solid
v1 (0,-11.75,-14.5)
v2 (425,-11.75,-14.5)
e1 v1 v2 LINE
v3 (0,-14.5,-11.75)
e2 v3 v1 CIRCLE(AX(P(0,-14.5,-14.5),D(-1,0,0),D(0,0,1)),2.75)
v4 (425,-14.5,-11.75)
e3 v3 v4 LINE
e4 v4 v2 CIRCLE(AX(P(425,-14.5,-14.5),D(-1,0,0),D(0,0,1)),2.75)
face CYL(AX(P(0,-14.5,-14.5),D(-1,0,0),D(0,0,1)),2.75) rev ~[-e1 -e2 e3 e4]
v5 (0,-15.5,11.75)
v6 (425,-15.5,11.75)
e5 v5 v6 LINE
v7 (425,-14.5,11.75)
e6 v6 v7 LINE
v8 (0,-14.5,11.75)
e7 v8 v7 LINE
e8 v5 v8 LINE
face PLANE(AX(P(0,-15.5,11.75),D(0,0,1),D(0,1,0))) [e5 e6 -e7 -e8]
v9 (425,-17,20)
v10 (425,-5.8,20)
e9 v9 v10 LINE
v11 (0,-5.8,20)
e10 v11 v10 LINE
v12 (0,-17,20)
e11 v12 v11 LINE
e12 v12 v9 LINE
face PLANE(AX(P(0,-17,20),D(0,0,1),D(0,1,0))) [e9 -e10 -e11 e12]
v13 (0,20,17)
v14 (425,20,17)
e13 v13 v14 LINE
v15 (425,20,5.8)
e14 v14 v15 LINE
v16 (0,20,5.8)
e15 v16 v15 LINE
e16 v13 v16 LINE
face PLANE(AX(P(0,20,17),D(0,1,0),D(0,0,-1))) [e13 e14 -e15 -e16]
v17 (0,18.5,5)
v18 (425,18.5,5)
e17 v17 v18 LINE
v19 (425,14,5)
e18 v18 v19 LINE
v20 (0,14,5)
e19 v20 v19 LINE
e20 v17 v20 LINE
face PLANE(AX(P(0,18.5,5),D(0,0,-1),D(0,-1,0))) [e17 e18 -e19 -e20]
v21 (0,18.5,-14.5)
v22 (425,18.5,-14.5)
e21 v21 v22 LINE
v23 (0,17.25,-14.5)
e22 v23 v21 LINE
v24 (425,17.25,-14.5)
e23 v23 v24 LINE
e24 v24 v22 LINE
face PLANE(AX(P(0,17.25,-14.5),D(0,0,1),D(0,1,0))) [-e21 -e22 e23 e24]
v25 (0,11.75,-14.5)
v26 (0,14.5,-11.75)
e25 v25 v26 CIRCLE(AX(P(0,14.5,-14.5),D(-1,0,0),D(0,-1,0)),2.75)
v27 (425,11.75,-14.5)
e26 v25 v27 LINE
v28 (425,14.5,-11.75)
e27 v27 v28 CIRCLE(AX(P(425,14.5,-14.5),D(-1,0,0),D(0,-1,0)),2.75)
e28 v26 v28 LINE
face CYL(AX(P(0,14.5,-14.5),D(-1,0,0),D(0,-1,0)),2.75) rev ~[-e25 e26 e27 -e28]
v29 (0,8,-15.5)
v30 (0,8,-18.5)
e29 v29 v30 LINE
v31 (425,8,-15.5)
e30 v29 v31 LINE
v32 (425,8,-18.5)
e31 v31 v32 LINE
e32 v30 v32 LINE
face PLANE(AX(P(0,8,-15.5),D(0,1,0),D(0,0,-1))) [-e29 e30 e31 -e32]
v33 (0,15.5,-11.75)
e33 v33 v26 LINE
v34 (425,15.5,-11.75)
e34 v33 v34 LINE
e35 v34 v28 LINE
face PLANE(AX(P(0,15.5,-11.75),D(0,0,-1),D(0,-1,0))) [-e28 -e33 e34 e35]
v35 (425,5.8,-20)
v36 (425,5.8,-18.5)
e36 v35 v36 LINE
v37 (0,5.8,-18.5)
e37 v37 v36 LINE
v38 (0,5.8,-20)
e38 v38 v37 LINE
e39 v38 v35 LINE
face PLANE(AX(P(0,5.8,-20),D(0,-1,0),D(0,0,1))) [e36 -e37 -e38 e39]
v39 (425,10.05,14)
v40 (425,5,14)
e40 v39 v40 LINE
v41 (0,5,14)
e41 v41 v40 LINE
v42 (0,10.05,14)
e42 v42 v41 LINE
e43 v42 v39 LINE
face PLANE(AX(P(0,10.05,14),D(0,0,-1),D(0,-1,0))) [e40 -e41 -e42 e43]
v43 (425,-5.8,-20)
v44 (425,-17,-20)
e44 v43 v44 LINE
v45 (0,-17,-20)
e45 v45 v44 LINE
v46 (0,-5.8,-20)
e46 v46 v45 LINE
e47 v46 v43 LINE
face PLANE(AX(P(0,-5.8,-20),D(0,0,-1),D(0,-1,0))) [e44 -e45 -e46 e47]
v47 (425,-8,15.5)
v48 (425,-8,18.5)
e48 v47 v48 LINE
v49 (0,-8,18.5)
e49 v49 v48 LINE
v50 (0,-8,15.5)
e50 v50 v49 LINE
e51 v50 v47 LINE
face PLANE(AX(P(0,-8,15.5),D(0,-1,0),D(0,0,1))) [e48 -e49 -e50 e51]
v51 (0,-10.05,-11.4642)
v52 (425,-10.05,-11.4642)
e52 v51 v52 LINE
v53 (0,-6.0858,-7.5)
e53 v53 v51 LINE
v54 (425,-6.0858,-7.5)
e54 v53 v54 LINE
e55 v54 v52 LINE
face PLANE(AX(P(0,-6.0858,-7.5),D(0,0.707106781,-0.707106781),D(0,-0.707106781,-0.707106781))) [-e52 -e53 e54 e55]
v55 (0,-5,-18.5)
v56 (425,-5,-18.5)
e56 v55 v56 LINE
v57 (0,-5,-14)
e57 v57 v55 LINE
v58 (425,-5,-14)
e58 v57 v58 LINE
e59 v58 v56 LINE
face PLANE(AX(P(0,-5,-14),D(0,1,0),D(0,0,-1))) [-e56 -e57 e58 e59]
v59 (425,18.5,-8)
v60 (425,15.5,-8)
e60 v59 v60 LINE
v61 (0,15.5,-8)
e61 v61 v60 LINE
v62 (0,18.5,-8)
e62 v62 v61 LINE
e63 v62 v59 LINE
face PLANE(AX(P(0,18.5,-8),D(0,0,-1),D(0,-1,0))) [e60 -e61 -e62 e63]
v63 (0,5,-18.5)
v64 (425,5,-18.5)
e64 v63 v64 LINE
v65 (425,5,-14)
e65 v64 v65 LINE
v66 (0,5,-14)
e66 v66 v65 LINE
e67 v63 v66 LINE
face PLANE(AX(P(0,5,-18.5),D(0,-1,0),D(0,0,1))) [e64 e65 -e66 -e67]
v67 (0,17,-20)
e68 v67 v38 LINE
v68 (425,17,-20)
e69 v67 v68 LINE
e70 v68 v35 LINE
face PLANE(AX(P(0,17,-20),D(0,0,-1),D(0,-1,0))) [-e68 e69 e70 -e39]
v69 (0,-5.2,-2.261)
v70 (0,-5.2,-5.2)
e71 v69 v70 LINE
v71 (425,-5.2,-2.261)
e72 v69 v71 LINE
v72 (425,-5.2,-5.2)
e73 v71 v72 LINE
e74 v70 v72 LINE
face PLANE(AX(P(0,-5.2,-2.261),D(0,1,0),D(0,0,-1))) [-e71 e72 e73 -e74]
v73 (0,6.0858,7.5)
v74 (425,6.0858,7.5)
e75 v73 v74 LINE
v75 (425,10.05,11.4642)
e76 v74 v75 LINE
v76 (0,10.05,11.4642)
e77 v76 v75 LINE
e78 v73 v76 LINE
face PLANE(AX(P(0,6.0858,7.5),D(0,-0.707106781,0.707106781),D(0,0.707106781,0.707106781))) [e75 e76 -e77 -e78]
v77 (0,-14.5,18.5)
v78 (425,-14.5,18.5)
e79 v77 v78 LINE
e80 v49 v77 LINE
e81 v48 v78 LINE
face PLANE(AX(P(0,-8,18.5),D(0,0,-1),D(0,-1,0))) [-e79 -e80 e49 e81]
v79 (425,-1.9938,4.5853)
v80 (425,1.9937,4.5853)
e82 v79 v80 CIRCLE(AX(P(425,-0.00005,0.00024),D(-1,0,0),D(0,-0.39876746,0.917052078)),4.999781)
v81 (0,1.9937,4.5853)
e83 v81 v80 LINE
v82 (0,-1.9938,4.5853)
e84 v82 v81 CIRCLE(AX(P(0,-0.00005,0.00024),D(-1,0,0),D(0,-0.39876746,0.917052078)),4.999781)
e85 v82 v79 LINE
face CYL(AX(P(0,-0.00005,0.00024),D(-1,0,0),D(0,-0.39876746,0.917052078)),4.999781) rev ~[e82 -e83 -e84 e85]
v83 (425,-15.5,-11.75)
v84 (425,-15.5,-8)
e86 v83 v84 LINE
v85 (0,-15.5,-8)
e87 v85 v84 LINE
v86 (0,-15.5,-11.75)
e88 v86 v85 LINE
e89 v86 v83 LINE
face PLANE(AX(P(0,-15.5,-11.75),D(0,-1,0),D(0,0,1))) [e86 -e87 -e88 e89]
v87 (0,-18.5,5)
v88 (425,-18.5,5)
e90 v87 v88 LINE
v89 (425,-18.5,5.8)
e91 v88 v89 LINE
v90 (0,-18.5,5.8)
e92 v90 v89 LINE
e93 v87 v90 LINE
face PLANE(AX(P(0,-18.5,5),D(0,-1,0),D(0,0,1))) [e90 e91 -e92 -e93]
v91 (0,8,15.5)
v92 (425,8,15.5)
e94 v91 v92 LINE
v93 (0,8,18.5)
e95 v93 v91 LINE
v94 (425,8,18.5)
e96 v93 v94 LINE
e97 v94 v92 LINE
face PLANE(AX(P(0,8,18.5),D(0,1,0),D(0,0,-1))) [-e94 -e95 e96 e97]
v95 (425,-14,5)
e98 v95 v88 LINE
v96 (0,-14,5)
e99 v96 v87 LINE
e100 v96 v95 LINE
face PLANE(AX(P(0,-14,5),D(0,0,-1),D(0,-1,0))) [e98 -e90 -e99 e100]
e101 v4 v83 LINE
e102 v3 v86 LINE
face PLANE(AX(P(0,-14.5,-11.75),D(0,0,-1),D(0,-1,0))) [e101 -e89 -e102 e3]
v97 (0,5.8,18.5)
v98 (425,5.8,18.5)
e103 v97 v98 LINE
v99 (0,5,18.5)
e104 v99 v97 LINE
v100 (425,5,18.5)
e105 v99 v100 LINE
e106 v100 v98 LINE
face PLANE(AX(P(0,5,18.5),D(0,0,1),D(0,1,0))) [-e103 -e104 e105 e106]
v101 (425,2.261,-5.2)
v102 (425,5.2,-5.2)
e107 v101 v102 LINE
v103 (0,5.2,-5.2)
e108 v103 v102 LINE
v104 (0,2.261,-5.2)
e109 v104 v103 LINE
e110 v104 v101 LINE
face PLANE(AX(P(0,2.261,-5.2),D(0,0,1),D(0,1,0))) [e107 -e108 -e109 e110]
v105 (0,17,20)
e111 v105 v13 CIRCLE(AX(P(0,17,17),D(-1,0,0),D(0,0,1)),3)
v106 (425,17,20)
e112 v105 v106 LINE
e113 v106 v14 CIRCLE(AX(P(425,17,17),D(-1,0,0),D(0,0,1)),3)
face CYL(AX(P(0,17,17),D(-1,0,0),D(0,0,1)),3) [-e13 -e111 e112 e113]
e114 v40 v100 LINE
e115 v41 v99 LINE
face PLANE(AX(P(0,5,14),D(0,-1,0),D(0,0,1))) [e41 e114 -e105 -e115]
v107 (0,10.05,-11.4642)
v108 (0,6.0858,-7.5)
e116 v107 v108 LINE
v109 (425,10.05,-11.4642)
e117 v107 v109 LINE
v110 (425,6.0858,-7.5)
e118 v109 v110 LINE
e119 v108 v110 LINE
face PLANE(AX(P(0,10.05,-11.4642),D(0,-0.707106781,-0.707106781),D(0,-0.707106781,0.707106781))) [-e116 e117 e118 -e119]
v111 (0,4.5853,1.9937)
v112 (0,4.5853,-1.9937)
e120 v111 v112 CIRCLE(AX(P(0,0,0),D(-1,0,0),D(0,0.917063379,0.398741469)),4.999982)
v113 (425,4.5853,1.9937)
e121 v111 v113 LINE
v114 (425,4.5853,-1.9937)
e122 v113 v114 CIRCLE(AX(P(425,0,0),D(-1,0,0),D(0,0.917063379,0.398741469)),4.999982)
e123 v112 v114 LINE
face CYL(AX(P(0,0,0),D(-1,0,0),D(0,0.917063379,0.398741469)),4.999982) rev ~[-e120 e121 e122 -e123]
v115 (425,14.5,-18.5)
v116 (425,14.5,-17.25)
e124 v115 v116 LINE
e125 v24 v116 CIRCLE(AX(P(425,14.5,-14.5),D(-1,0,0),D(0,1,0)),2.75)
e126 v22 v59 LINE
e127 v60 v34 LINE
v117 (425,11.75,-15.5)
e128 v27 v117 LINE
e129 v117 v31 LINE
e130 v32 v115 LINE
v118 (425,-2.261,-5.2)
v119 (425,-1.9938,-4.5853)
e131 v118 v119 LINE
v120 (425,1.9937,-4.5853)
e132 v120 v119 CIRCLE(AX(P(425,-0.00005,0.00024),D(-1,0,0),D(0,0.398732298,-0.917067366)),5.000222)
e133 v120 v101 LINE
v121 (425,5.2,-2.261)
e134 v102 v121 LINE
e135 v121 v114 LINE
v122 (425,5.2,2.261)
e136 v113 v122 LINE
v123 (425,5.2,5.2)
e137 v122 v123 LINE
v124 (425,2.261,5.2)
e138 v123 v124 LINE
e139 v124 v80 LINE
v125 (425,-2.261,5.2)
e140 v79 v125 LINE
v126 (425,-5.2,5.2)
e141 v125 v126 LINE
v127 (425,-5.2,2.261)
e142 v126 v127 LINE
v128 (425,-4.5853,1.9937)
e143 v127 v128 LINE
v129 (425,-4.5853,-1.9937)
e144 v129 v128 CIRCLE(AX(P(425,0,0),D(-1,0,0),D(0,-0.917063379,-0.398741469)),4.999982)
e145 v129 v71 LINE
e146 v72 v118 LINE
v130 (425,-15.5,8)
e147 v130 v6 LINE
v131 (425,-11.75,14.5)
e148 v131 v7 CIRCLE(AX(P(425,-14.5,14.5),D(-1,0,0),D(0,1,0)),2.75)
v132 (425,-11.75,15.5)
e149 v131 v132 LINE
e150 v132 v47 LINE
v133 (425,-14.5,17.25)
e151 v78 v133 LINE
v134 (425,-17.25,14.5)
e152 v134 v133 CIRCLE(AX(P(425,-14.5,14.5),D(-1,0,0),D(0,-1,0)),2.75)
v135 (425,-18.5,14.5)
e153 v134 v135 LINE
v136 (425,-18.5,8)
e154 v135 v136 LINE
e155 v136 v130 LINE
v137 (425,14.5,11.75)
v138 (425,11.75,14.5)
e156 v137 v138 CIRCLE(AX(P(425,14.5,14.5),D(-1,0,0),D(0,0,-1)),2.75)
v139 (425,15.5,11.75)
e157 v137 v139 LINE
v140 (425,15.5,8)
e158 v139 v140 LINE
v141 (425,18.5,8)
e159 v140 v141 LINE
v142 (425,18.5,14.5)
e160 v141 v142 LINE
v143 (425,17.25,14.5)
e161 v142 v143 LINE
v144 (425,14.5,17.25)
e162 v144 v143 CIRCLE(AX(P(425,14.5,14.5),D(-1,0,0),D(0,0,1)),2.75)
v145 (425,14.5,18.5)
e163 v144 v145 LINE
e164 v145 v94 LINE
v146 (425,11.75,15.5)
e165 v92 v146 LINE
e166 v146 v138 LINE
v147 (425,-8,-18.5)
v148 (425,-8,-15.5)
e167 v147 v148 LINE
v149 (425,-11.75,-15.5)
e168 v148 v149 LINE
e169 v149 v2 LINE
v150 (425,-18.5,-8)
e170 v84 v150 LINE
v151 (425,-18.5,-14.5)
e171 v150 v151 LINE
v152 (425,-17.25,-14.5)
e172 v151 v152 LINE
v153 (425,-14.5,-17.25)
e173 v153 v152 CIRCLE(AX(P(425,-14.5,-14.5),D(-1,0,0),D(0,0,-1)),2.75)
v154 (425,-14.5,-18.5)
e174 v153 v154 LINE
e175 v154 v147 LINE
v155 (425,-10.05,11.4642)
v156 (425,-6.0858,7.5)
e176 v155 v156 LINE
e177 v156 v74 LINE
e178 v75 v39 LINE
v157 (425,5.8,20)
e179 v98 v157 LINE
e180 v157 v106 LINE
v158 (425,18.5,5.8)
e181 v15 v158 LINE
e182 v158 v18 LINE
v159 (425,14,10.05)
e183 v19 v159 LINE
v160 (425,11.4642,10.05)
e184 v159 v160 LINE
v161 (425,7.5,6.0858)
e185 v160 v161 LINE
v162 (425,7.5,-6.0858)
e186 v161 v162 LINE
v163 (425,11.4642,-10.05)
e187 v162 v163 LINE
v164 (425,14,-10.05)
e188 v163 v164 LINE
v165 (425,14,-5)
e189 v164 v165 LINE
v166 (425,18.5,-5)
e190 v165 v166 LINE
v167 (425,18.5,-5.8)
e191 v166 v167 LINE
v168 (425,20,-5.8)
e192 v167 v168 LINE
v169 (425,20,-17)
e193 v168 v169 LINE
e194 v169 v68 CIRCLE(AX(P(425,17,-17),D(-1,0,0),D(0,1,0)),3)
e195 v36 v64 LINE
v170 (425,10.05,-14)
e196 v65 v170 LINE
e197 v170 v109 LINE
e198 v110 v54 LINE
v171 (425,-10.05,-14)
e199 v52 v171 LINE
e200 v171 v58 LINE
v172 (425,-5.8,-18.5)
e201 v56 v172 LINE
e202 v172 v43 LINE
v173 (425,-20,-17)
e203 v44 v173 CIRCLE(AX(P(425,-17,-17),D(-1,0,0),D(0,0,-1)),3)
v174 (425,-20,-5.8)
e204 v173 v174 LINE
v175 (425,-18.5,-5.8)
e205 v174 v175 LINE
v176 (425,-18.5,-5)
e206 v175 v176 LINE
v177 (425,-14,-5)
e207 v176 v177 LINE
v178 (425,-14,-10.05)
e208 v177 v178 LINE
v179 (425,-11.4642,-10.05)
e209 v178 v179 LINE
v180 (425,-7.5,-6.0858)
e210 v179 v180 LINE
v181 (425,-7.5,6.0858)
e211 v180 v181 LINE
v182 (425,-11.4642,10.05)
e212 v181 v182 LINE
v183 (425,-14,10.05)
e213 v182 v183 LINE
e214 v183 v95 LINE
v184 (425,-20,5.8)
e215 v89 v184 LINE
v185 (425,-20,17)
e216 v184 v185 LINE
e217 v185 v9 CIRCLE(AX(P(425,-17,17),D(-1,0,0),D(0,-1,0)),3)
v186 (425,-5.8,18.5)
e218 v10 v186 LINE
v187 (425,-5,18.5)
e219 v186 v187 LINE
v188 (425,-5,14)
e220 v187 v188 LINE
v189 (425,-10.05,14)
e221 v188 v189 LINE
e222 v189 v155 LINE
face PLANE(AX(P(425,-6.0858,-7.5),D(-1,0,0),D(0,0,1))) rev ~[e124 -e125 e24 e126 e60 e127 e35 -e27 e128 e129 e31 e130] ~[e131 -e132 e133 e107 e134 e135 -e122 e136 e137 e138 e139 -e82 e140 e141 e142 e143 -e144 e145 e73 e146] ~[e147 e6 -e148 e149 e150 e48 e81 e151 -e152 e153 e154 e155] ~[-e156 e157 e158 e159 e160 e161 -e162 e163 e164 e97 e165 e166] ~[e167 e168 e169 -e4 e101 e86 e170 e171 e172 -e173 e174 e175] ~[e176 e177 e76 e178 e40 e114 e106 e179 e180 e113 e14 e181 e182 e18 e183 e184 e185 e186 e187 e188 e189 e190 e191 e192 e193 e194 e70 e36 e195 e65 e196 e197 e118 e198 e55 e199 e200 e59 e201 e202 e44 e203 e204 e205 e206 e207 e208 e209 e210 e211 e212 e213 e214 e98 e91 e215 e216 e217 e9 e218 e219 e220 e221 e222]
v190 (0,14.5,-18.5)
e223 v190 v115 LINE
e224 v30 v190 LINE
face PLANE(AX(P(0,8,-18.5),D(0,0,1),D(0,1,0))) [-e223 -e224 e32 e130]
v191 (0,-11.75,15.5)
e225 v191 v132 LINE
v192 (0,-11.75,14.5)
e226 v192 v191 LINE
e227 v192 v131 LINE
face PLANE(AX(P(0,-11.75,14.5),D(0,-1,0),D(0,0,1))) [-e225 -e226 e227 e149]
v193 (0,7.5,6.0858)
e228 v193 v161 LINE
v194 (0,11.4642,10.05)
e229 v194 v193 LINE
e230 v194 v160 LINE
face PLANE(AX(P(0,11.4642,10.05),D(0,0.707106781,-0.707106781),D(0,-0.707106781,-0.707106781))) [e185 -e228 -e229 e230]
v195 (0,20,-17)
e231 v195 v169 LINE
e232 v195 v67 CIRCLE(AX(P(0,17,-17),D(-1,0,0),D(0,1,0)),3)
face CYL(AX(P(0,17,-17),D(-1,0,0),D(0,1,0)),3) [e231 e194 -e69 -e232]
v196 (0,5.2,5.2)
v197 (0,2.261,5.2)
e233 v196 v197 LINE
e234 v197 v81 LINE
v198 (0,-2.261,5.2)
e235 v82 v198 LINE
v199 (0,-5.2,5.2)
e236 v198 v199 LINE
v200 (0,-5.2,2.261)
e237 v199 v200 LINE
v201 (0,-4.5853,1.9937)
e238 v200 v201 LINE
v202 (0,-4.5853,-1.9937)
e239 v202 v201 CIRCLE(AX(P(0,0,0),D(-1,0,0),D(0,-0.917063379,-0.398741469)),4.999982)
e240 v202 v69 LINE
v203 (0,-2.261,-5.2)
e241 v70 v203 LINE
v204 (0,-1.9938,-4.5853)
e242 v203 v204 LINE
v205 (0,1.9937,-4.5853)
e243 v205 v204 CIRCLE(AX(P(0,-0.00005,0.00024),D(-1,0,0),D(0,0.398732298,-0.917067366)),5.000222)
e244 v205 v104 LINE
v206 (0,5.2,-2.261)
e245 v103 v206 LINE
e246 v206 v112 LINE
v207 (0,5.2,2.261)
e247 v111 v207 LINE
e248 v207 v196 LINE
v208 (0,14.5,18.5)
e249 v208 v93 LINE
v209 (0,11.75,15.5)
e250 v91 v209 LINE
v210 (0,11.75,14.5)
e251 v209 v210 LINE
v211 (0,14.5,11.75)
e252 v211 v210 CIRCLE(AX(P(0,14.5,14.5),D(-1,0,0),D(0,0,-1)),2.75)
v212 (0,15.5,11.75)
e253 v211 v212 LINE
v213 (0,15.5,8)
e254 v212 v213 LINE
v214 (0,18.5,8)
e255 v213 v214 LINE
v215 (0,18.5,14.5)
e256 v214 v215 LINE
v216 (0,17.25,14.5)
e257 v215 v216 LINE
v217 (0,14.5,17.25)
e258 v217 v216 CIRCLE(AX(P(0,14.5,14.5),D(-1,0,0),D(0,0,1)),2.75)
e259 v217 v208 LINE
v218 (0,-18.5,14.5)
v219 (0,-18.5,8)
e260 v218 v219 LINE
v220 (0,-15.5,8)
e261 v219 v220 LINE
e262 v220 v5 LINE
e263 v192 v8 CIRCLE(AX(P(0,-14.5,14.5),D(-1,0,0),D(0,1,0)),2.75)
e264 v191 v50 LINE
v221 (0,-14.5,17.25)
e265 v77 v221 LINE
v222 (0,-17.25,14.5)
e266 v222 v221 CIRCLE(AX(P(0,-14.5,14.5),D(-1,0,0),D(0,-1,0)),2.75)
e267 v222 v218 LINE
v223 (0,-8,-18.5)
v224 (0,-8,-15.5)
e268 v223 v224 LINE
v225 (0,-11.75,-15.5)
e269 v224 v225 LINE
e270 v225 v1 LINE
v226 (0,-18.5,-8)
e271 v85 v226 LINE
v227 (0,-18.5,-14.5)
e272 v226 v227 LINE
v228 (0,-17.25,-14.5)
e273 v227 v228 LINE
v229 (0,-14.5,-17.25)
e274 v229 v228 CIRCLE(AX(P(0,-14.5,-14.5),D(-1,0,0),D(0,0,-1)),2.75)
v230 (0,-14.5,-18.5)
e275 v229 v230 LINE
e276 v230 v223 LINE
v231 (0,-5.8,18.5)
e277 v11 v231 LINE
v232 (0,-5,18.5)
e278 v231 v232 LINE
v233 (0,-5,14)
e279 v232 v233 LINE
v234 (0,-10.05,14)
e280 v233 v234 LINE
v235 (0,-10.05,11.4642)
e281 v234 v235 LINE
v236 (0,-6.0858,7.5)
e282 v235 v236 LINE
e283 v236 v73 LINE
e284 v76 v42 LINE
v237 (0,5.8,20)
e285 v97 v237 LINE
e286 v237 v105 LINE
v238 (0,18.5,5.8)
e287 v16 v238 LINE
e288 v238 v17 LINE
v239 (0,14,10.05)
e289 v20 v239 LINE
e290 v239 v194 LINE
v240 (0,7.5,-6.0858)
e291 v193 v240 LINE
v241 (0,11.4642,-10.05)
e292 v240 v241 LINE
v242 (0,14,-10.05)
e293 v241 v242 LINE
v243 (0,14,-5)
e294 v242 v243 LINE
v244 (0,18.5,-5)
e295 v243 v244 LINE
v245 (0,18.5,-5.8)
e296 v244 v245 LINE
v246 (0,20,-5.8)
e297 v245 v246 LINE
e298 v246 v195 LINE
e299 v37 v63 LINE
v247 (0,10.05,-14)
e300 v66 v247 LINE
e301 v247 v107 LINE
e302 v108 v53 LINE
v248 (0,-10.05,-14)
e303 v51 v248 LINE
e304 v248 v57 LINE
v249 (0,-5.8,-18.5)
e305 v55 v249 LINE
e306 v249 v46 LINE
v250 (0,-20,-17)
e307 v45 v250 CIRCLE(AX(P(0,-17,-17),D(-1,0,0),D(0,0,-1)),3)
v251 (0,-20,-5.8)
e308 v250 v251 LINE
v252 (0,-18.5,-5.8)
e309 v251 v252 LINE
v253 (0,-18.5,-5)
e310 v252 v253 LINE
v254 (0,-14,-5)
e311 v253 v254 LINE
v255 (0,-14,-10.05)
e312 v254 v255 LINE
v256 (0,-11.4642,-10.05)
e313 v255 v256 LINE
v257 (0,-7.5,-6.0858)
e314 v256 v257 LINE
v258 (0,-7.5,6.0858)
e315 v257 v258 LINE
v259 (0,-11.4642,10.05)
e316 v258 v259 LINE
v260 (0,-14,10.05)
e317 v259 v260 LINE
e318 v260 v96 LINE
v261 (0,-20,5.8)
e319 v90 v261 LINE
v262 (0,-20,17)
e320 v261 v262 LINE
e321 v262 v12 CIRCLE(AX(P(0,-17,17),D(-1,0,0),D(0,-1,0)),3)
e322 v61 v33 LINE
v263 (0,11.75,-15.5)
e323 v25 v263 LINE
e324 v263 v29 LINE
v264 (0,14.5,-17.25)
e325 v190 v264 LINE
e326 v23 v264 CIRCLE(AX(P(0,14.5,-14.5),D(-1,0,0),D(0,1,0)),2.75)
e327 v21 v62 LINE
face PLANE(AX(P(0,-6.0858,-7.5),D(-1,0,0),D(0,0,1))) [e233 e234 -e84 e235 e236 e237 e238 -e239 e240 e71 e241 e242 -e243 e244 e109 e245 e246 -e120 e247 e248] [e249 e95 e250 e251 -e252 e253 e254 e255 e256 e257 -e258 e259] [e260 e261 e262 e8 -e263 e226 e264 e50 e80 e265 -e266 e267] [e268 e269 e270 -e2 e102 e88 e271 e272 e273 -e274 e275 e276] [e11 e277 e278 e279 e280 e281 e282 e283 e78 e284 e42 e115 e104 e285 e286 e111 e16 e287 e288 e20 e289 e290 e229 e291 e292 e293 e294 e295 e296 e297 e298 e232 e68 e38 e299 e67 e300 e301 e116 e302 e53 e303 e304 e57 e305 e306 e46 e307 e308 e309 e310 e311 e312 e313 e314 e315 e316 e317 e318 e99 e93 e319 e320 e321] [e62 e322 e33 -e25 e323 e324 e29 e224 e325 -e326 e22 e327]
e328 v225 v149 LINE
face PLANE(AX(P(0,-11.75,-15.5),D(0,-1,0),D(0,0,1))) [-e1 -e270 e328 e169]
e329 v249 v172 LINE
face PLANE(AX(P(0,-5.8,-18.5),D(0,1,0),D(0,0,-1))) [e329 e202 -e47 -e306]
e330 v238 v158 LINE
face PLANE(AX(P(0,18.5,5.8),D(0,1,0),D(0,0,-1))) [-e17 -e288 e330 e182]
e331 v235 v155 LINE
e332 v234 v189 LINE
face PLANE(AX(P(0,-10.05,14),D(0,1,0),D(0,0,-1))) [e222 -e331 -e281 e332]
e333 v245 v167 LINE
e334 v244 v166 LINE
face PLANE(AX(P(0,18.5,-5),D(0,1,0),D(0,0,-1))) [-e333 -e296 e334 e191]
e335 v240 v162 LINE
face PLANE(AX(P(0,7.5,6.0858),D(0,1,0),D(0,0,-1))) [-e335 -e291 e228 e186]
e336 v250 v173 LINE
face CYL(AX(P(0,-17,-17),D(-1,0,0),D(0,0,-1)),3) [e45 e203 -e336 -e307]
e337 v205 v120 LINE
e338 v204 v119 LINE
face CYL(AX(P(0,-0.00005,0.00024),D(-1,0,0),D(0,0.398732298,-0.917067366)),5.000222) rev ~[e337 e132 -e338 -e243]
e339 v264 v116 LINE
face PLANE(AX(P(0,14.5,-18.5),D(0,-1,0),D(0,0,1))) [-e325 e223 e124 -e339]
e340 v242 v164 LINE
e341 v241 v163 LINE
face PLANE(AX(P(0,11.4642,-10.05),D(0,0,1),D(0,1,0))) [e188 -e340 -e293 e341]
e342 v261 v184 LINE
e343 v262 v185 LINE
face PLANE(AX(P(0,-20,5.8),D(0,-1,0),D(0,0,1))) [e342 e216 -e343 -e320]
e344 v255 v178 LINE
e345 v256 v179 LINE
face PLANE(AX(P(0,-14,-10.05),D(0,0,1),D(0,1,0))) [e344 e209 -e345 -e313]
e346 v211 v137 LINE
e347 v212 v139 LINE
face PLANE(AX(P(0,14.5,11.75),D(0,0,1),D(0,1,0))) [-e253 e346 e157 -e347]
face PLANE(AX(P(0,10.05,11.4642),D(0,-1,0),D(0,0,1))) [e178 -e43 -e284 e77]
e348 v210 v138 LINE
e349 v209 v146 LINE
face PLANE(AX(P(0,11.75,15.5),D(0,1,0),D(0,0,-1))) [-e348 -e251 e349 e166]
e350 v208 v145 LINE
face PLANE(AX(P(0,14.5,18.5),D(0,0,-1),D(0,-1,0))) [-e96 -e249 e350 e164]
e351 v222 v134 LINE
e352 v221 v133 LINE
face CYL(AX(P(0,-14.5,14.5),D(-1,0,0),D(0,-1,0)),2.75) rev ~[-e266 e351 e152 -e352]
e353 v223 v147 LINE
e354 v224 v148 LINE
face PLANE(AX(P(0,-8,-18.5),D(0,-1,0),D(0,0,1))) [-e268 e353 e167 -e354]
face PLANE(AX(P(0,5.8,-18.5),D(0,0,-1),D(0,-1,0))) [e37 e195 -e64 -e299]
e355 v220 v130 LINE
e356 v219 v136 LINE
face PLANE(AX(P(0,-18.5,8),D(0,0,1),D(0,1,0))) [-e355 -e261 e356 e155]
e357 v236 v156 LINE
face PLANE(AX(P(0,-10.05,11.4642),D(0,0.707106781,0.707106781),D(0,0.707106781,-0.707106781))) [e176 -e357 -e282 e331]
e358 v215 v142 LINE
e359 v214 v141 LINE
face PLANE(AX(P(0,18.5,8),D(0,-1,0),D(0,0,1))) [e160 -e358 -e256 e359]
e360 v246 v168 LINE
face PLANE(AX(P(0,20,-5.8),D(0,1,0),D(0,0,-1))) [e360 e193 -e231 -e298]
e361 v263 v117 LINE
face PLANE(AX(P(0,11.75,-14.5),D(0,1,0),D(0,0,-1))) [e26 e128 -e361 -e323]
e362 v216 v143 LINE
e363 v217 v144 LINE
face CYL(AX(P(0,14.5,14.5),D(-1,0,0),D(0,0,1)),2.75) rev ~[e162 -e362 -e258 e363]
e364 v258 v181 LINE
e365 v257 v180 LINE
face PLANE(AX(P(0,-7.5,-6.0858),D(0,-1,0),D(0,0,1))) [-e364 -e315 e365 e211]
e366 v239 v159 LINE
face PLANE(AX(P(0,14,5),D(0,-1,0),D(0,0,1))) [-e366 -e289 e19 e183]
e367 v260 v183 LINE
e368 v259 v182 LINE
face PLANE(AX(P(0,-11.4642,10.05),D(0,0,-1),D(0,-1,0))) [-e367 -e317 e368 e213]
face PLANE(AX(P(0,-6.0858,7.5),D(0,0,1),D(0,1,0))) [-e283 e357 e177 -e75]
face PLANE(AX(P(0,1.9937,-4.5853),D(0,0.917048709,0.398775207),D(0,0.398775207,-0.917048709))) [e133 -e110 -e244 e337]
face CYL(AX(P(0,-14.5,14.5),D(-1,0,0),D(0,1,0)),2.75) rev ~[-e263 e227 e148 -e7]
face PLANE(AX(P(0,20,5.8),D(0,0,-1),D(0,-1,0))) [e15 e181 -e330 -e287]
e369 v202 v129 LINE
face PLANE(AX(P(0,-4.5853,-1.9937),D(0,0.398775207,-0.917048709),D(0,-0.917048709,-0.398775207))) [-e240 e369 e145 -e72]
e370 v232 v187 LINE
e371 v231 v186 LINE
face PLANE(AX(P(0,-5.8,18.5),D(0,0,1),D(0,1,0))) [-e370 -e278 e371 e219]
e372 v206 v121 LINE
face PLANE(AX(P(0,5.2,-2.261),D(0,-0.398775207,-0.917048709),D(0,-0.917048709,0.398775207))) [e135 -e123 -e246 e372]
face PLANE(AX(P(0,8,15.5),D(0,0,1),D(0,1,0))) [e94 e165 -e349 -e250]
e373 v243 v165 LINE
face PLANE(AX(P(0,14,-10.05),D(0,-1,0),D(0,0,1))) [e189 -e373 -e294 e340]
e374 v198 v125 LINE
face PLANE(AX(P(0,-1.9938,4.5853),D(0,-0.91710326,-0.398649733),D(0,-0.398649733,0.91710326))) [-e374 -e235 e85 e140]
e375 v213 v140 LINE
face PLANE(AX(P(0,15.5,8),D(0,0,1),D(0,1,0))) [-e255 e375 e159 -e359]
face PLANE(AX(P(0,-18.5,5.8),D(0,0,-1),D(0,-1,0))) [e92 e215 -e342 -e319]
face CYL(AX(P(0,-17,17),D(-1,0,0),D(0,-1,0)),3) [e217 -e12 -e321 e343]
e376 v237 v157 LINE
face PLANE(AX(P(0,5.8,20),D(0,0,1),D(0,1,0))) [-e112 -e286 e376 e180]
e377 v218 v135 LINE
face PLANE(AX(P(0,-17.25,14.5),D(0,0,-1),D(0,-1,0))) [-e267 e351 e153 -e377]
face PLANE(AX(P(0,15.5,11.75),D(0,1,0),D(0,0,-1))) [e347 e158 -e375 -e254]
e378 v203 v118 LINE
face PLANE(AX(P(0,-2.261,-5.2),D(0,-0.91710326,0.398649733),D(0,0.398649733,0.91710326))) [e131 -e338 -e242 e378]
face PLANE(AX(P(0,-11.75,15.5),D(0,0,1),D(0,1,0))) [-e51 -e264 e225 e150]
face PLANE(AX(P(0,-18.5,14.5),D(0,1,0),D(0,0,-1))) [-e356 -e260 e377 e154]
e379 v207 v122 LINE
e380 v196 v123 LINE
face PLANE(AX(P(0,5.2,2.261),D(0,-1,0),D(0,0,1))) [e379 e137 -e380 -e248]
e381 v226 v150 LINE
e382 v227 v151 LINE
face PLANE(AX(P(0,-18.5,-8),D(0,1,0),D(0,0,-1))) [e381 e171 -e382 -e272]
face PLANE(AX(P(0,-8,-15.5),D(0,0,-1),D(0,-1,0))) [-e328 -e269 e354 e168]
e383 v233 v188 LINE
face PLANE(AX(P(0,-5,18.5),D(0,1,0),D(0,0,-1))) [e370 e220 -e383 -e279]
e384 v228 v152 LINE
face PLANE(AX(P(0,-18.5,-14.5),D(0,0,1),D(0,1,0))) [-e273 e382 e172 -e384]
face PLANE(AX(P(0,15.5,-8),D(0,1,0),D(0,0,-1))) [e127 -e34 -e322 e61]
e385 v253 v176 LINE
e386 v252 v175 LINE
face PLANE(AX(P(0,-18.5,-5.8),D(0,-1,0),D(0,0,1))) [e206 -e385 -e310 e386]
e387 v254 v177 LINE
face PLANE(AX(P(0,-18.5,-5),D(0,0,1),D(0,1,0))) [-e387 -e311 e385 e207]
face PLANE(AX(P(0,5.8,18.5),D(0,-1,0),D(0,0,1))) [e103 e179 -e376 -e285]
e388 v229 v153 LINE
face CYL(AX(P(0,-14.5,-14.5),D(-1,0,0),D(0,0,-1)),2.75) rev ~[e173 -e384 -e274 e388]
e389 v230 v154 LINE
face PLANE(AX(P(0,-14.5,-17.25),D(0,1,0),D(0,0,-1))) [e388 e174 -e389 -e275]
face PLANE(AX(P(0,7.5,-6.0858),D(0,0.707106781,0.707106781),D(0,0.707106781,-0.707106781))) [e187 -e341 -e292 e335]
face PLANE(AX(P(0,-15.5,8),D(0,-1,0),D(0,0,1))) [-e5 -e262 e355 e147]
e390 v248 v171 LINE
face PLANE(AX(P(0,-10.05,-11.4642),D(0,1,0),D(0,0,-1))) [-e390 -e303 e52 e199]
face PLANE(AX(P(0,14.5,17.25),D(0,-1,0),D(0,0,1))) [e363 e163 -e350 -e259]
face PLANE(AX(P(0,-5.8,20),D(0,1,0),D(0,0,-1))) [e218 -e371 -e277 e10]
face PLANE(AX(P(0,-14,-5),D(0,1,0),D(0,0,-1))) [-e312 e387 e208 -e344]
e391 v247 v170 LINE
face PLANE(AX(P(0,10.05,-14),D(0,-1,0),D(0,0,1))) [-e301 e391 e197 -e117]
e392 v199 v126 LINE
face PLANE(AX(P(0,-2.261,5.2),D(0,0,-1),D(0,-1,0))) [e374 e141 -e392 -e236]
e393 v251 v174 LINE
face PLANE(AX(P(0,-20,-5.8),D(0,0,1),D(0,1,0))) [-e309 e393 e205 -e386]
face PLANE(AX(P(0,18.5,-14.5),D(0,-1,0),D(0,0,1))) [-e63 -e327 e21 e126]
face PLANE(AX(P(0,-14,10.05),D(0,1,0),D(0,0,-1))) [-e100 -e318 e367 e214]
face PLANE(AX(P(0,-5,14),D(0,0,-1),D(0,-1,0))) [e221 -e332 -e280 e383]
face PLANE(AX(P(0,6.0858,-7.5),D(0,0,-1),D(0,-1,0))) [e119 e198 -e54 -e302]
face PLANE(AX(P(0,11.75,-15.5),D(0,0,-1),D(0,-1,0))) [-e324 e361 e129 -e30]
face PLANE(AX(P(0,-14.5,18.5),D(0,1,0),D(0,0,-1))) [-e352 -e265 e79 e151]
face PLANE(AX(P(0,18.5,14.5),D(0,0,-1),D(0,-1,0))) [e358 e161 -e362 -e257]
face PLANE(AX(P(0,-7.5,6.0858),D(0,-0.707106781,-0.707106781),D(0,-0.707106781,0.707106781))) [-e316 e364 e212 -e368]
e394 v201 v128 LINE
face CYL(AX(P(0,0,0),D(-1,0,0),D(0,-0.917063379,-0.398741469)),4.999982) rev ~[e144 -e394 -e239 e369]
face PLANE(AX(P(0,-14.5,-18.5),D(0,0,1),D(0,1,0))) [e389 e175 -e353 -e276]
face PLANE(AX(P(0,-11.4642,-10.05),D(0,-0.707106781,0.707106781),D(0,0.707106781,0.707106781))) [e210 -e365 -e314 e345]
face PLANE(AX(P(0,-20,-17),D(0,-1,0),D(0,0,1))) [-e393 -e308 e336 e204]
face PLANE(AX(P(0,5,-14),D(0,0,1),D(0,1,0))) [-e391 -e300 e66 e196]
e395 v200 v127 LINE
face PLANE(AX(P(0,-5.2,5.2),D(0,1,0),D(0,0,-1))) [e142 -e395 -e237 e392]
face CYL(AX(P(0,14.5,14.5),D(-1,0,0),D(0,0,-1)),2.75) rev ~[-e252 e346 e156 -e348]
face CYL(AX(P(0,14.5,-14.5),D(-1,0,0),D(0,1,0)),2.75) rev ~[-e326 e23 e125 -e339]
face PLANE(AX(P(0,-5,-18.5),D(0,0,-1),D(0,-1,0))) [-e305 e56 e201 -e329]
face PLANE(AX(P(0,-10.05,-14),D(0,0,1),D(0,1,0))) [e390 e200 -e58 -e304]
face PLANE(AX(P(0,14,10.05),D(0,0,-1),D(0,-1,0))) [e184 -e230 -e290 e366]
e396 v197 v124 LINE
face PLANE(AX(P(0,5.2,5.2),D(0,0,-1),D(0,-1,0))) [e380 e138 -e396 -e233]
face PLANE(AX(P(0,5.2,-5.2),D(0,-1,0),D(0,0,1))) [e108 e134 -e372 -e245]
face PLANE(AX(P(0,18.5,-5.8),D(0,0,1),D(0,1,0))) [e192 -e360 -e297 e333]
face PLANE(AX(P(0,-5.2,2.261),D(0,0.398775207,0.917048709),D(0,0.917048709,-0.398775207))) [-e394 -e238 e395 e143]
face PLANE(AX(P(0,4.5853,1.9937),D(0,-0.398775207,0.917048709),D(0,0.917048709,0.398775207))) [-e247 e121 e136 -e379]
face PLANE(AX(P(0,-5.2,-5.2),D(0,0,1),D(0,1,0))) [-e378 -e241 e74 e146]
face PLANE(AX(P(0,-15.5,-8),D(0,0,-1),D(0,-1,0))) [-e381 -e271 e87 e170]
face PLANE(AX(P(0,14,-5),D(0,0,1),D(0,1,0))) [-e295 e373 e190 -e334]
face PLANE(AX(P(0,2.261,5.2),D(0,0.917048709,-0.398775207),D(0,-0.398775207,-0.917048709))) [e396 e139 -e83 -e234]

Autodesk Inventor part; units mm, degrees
ref_plane "YZ Plane" through (0, 0, 0) normal (1, 0, 0) x (0, 1, 0)
ref_plane "Work Plane1" through (3000, -6.0858, -7.5) normal (1, 0, 0) x (0, 0, -1)
sketch "Sketch1" plane through (3000, -6.0858, -7.5) normal (1, 0, 0) x (0, 0, -1)
  line L0 (0, 0) -> (3.9642, -3.9642) projected
  line L1 (0, 12.1716) -> (0, 0) projected
  line L2 (3.9642, 16.1358) -> (0, 12.1716) projected
  line L3 (6.5, 16.1358) -> (3.9642, 16.1358) projected
  line L4 (6.5, 11.0858) -> (6.5, 16.1358) projected
  line L5 (11, 11.0858) -> (6.5, 11.0858) projected
  line L6 (11, 11.8858) -> (11, 11.0858) projected
  line L7 (12.5, 11.8858) -> (11, 11.8858) projected
  line L8 (12.5, 23.0858) -> (12.5, 11.8858) projected
  arc A0 (12.5, 23.0858) -> (9.5, 26.0858) centre (9.5, 23.0858) ccw projected
  line L9 (-1.7, 26.0858) -> (9.5, 26.0858) projected
  line L10 (-1.7, 24.5858) -> (-1.7, 26.0858) projected
  line L11 (-2.5, 24.5858) -> (-1.7, 24.5858) projected
  line L12 (-2.5, 20.0858) -> (-2.5, 24.5858) projected
  line L13 (2.55, 20.0858) -> (-2.5, 20.0858) projected
  line L14 (2.55, 17.55) -> (2.55, 20.0858) projected
  line L15 (-1.4142, 13.5858) -> (2.55, 17.55) projected
  line L16 (-13.5858, 13.5858) -> (-1.4142, 13.5858) projected
  line L17 (-17.55, 17.55) -> (-13.5858, 13.5858) projected
  line L18 (-17.55, 20.0858) -> (-17.55, 17.55) projected
  line L19 (-12.5, 20.0858) -> (-17.55, 20.0858) projected
  line L20 (-12.5, 24.5858) -> (-12.5, 20.0858) projected
  line L21 (-13.3, 24.5858) -> (-12.5, 24.5858) projected
  line L22 (-13.3, 26.0858) -> (-13.3, 24.5858) projected
  line L23 (-24.5, 26.0858) -> (-13.3, 26.0858) projected
  arc A1 (-24.5, 26.0858) -> (-27.5, 23.0858) centre (-24.5, 23.0858) ccw projected
  line L24 (-27.5, 11.8858) -> (-27.5, 23.0858) projected
  line L25 (-26, 11.8858) -> (-27.5, 11.8858) projected
  line L26 (-26, 11.0858) -> (-26, 11.8858) projected
  line L27 (-21.5, 11.0858) -> (-26, 11.0858) projected
  line L28 (-21.5, 16.1358) -> (-21.5, 11.0858) projected
  line L29 (-18.9642, 16.1358) -> (-21.5, 16.1358) projected
  line L30 (-15, 12.1716) -> (-18.9642, 16.1358) projected
  line L31 (-15, 0) -> (-15, 12.1716) projected
  line L32 (-18.9642, -3.9642) -> (-15, 0) projected
  line L33 (-21.5, -3.9642) -> (-18.9642, -3.9642) projected
  line L34 (-21.5, 1.0858) -> (-21.5, -3.9642) projected
  line L35 (-26, 1.0858) -> (-21.5, 1.0858) projected
  line L36 (-26, 0.2858) -> (-26, 1.0858) projected
  line L37 (-27.5, 0.2858) -> (-26, 0.2858) projected
  line L38 (-27.5, -10.9142) -> (-27.5, 0.2858) projected
  arc A2 (-27.5, -10.9142) -> (-24.5, -13.9142) centre (-24.5, -10.9142) ccw projected
  line L39 (-13.3, -13.9142) -> (-24.5, -13.9142) projected
  line L40 (-13.3, -12.4142) -> (-13.3, -13.9142) projected
  line L41 (-12.5, -12.4142) -> (-13.3, -12.4142) projected
  line L42 (-12.5, -7.9142) -> (-12.5, -12.4142) projected
  line L43 (-17.55, -7.9142) -> (-12.5, -7.9142) projected
  line L44 (-17.55, -5.3784) -> (-17.55, -7.9142) projected
  line L45 (-13.5858, -1.4142) -> (-17.55, -5.3784) projected
  line L46 (-1.4142, -1.4142) -> (-13.5858, -1.4142) projected
  line L47 (2.55, -5.3784) -> (-1.4142, -1.4142) projected
  line L48 (2.55, -7.9142) -> (2.55, -5.3784) projected
  line L49 (-2.5, -7.9142) -> (2.55, -7.9142) projected
  line L50 (-2.5, -12.4142) -> (-2.5, -7.9142) projected
  line L51 (-1.7, -12.4142) -> (-2.5, -12.4142) projected
  line L52 (-1.7, -13.9142) -> (-1.7, -12.4142) projected
  line L53 (9.5, -13.9142) -> (-1.7, -13.9142) projected
  arc A3 (9.5, -13.9142) -> (12.5, -10.9142) centre (9.5, -10.9142) ccw projected
  line L54 (12.5, 0.2858) -> (12.5, -10.9142) projected
  line L55 (11, 0.2858) -> (12.5, 0.2858) projected
  line L56 (11, 1.0858) -> (11, 0.2858) projected
  line L57 (6.5, 1.0858) -> (11, 1.0858) projected
  line L58 (6.5, -3.9642) -> (6.5, 1.0858) projected
  line L59 (3.9642, -3.9642) -> (6.5, -3.9642) projected
  line L60 (8, -1.9142) -> (11, -1.9142) projected
  line L61 (11, -1.9142) -> (11, -8.4142) projected
  line L62 (11, -8.4142) -> (9.75, -8.4142) projected
  arc A4 (7, -11.1642) -> (9.75, -8.4142) centre (7, -8.4142) ccw projected
  line L63 (7, -11.1642) -> (7, -12.4142) projected
  line L64 (7, -12.4142) -> (0.5, -12.4142) projected
  line L65 (0.5, -12.4142) -> (0.5, -9.4142) projected
  line L66 (0.5, -9.4142) -> (4.25, -9.4142) projected
  line L67 (4.25, -9.4142) -> (4.25, -8.4142) projected
  arc A5 (7, -5.6642) -> (4.25, -8.4142) centre (7, -8.4142) ccw projected
  line L68 (7, -5.6642) -> (8, -5.6642) projected
  line L69 (8, -5.6642) -> (8, -1.9142) projected
  line L70 (0.5, 21.5858) -> (0.5, 24.5858) projected
  line L71 (0.5, 24.5858) -> (7, 24.5858) projected
  line L72 (7, 24.5858) -> (7, 23.3358) projected
  arc A6 (9.75, 20.5858) -> (7, 23.3358) centre (7, 20.5858) ccw projected
  line L73 (9.75, 20.5858) -> (11, 20.5858) projected
  line L74 (11, 20.5858) -> (11, 14.0858) projected
  line L75 (11, 14.0858) -> (8, 14.0858) projected
  line L76 (8, 14.0858) -> (8, 17.8358) projected
  line L77 (8, 17.8358) -> (7, 17.8358) projected
  arc A7 (4.25, 20.5858) -> (7, 17.8358) centre (7, 20.5858) ccw projected
  line L78 (4.25, 20.5858) -> (4.25, 21.5858) projected
  line L79 (4.25, 21.5858) -> (0.5, 21.5858) projected
  line L80 (-23, 14.0858) -> (-26, 14.0858) projected
  line L81 (-26, 14.0858) -> (-26, 20.5858) projected
  line L82 (-26, 20.5858) -> (-24.75, 20.5858) projected
  arc A8 (-22, 23.3358) -> (-24.75, 20.5858) centre (-22, 20.5858) ccw projected
  line L83 (-22, 23.3358) -> (-22, 24.5858) projected
  line L84 (-22, 24.5858) -> (-15.5, 24.5858) projected
  line L85 (-15.5, 24.5858) -> (-15.5, 21.5858) projected
  line L86 (-15.5, 21.5858) -> (-19.25, 21.5858) projected
  line L87 (-19.25, 21.5858) -> (-19.25, 20.5858) projected
  arc A9 (-22, 17.8358) -> (-19.25, 20.5858) centre (-22, 20.5858) ccw projected
  line L88 (-22, 17.8358) -> (-23, 17.8358) projected
  line L89 (-23, 17.8358) -> (-23, 14.0858) projected
  line L90 (-15.5, -9.4142) -> (-15.5, -12.4142) projected
  line L91 (-15.5, -12.4142) -> (-22, -12.4142) projected
  line L92 (-22, -12.4142) -> (-22, -11.1642) projected
  arc A10 (-24.75, -8.4142) -> (-22, -11.1642) centre (-22, -8.4142) ccw projected
  line L93 (-24.75, -8.4142) -> (-26, -8.4142) projected
  line L94 (-26, -8.4142) -> (-26, -1.9142) projected
  line L95 (-26, -1.9142) -> (-23, -1.9142) projected
  line L96 (-23, -1.9142) -> (-23, -5.6642) projected
  line L97 (-23, -5.6642) -> (-22, -5.6642) projected
  arc A11 (-19.25, -8.4142) -> (-22, -5.6642) centre (-22, -8.4142) ccw projected
  line L98 (-19.25, -8.4142) -> (-19.25, -9.4142) projected
  line L99 (-19.25, -9.4142) -> (-15.5, -9.4142) projected
  line L100 (-9.4937, 1.5005) -> (-9.761, 0.8858) projected
  line L101 (-9.761, 0.8858) -> (-12.7, 0.8858) projected
  line L102 (-12.7, 0.8858) -> (-12.7, 3.8248) projected
  line L103 (-12.7, 3.8248) -> (-12.0853, 4.092) projected
  arc A12 (-12.0853, 8.0795) -> (-12.0853, 4.092) centre (-7.5, 6.0858) ccw projected
  line L104 (-12.0853, 8.0795) -> (-12.7, 8.3468) projected
  line L105 (-12.7, 8.3468) -> (-12.7, 11.2858) projected
  line L106 (-12.7, 11.2858) -> (-9.761, 11.2858) projected
  line L107 (-9.761, 11.2858) -> (-9.4937, 10.6711) projected
  arc A13 (-5.5063, 10.6711) -> (-9.4937, 10.6711) centre (-7.5, 6.0858) ccw projected
  line L108 (-5.5063, 10.6711) -> (-5.239, 11.2858) projected
  line L109 (-5.239, 11.2858) -> (-2.3, 11.2858) projected
  line L110 (-2.3, 11.2858) -> (-2.3, 8.3468) projected
  line L111 (-2.3, 8.3468) -> (-2.9147, 8.0795) projected
  arc A14 (-2.9147, 4.092) -> (-2.9147, 8.0795) centre (-7.5, 6.0858) ccw projected
  line L112 (-2.9147, 4.092) -> (-2.3, 3.8248) projected
  line L113 (-2.3, 3.8248) -> (-2.3, 0.8858) projected
  line L114 (-2.3, 0.8858) -> (-5.239, 0.8858) projected
  line L115 (-5.239, 0.8858) -> (-5.5063, 1.5005) projected
  arc A15 (-9.4937, 1.5005) -> (-5.5063, 1.5005) centre (-7.5, 6.0858) ccw projected
  point P0 (-7.5, 6.0858)
ref_plane "Work Plane2" through (0, -6.0858, -7.5) normal (-1, 0, 0) x (0, 0, 1)
sketch "Sketch2" plane through (0, -6.0858, -7.5) normal (-1, 0, 0) x (0, 0, 1)
  line L0 (0, 12.1716) -> (0, 0) projected
  line L1 (0, 0) -> (-3.9642, -3.9642) projected
  line L2 (-3.9642, -3.9642) -> (-6.5, -3.9642) projected
  line L3 (-6.5, -3.9642) -> (-6.5, 1.0858) projected
  line L4 (-6.5, 1.0858) -> (-11, 1.0858) projected
  line L5 (-11, 1.0858) -> (-11, 0.2858) projected
  line L6 (-11, 0.2858) -> (-12.5, 0.2858) projected
  line L7 (-12.5, 0.2858) -> (-12.5, -10.9142) projected
  arc A0 (-12.5, -10.9142) -> (-9.5, -13.9142) centre (-9.5, -10.9142) ccw projected
  line L8 (-9.5, -13.9142) -> (1.7, -13.9142) projected
  line L9 (1.7, -13.9142) -> (1.7, -12.4142) projected
  line L10 (1.7, -12.4142) -> (2.5, -12.4142) projected
  line L11 (2.5, -12.4142) -> (2.5, -7.9142) projected
  line L12 (2.5, -7.9142) -> (-2.55, -7.9142) projected
  line L13 (-2.55, -7.9142) -> (-2.55, -5.3784) projected
  line L14 (-2.55, -5.3784) -> (1.4142, -1.4142) projected
  line L15 (1.4142, -1.4142) -> (13.5858, -1.4142) projected
  line L16 (13.5858, -1.4142) -> (17.55, -5.3784) projected
  line L17 (17.55, -5.3784) -> (17.55, -7.9142) projected
  line L18 (17.55, -7.9142) -> (12.5, -7.9142) projected
  line L19 (12.5, -7.9142) -> (12.5, -12.4142) projected
  line L20 (12.5, -12.4142) -> (13.3, -12.4142) projected
  line L21 (13.3, -12.4142) -> (13.3, -13.9142) projected
  line L22 (13.3, -13.9142) -> (24.5, -13.9142) projected
  arc A1 (24.5, -13.9142) -> (27.5, -10.9142) centre (24.5, -10.9142) ccw projected
  line L23 (27.5, -10.9142) -> (27.5, 0.2858) projected
  line L24 (27.5, 0.2858) -> (26, 0.2858) projected
  line L25 (26, 0.2858) -> (26, 1.0858) projected
  line L26 (26, 1.0858) -> (21.5, 1.0858) projected
  line L27 (21.5, 1.0858) -> (21.5, -3.9642) projected
  line L28 (21.5, -3.9642) -> (18.9642, -3.9642) projected
  line L29 (18.9642, -3.9642) -> (15, 0) projected
  line L30 (15, 0) -> (15, 12.1716) projected
  line L31 (15, 12.1716) -> (18.9642, 16.1358) projected
  line L32 (18.9642, 16.1358) -> (21.5, 16.1358) projected
  line L33 (21.5, 16.1358) -> (21.5, 11.0858) projected
  line L34 (21.5, 11.0858) -> (26, 11.0858) projected
  line L35 (26, 11.0858) -> (26, 11.8858) projected
  line L36 (26, 11.8858) -> (27.5, 11.8858) projected
  line L37 (27.5, 11.8858) -> (27.5, 23.0858) projected
  arc A2 (27.5, 23.0858) -> (24.5, 26.0858) centre (24.5, 23.0858) ccw projected
  line L38 (24.5, 26.0858) -> (13.3, 26.0858) projected
  line L39 (13.3, 26.0858) -> (13.3, 24.5858) projected
  line L40 (13.3, 24.5858) -> (12.5, 24.5858) projected
  line L41 (12.5, 24.5858) -> (12.5, 20.0858) projected
  line L42 (12.5, 20.0858) -> (17.55, 20.0858) projected
  line L43 (17.55, 20.0858) -> (17.55, 17.55) projected
  line L44 (17.55, 17.55) -> (13.5858, 13.5858) projected
  line L45 (13.5858, 13.5858) -> (1.4142, 13.5858) projected
  line L46 (1.4142, 13.5858) -> (-2.55, 17.55) projected
  line L47 (-2.55, 17.55) -> (-2.55, 20.0858) projected
  line L48 (-2.55, 20.0858) -> (2.5, 20.0858) projected
  line L49 (2.5, 20.0858) -> (2.5, 24.5858) projected
  line L50 (2.5, 24.5858) -> (1.7, 24.5858) projected
  line L51 (1.7, 24.5858) -> (1.7, 26.0858) projected
  line L52 (1.7, 26.0858) -> (-9.5, 26.0858) projected
  arc A3 (-9.5, 26.0858) -> (-12.5, 23.0858) centre (-9.5, 23.0858) ccw projected
  line L53 (-12.5, 23.0858) -> (-12.5, 11.8858) projected
  line L54 (-12.5, 11.8858) -> (-11, 11.8858) projected
  line L55 (-11, 11.8858) -> (-11, 11.0858) projected
  line L56 (-11, 11.0858) -> (-6.5, 11.0858) projected
  line L57 (-6.5, 11.0858) -> (-6.5, 16.1358) projected
  line L58 (-6.5, 16.1358) -> (-3.9642, 16.1358) projected
  line L59 (-3.9642, 16.1358) -> (0, 12.1716) projected
  line L60 (-11, -1.9142) -> (-8, -1.9142) projected
  line L61 (-8, -1.9142) -> (-8, -5.6642) projected
  line L62 (-8, -5.6642) -> (-7, -5.6642) projected
  arc A4 (-4.25, -8.4142) -> (-7, -5.6642) centre (-7, -8.4142) ccw projected
  line L63 (-4.25, -8.4142) -> (-4.25, -9.4142) projected
  line L64 (-4.25, -9.4142) -> (-0.5, -9.4142) projected
  line L65 (-0.5, -9.4142) -> (-0.5, -12.4142) projected
  line L66 (-0.5, -12.4142) -> (-7, -12.4142) projected
  line L67 (-7, -12.4142) -> (-7, -11.1642) projected
  arc A5 (-9.75, -8.4142) -> (-7, -11.1642) centre (-7, -8.4142) ccw projected
  line L68 (-9.75, -8.4142) -> (-11, -8.4142) projected
  line L69 (-11, -8.4142) -> (-11, -1.9142) projected
  line L70 (-0.5, 24.5858) -> (-0.5, 21.5858) projected
  line L71 (-0.5, 21.5858) -> (-4.25, 21.5858) projected
  line L72 (-4.25, 21.5858) -> (-4.25, 20.5858) projected
  arc A6 (-7, 17.8358) -> (-4.25, 20.5858) centre (-7, 20.5858) ccw projected
  line L73 (-7, 17.8358) -> (-8, 17.8358) projected
  line L74 (-8, 17.8358) -> (-8, 14.0858) projected
  line L75 (-8, 14.0858) -> (-11, 14.0858) projected
  line L76 (-11, 14.0858) -> (-11, 20.5858) projected
  line L77 (-11, 20.5858) -> (-9.75, 20.5858) projected
  arc A7 (-7, 23.3358) -> (-9.75, 20.5858) centre (-7, 20.5858) ccw projected
  line L78 (-7, 23.3358) -> (-7, 24.5858) projected
  line L79 (-7, 24.5858) -> (-0.5, 24.5858) projected
  line L80 (26, 14.0858) -> (23, 14.0858) projected
  line L81 (23, 14.0858) -> (23, 17.8358) projected
  line L82 (23, 17.8358) -> (22, 17.8358) projected
  arc A8 (19.25, 20.5858) -> (22, 17.8358) centre (22, 20.5858) ccw projected
  line L83 (19.25, 20.5858) -> (19.25, 21.5858) projected
  line L84 (19.25, 21.5858) -> (15.5, 21.5858) projected
  line L85 (15.5, 21.5858) -> (15.5, 24.5858) projected
  line L86 (15.5, 24.5858) -> (22, 24.5858) projected
  line L87 (22, 24.5858) -> (22, 23.3358) projected
  arc A9 (24.75, 20.5858) -> (22, 23.3358) centre (22, 20.5858) ccw projected
  line L88 (24.75, 20.5858) -> (26, 20.5858) projected
  line L89 (26, 20.5858) -> (26, 14.0858) projected
  line L90 (15.5, -12.4142) -> (15.5, -9.4142) projected
  line L91 (15.5, -9.4142) -> (19.25, -9.4142) projected
  line L92 (19.25, -9.4142) -> (19.25, -8.4142) projected
  arc A10 (22, -5.6642) -> (19.25, -8.4142) centre (22, -8.4142) ccw projected
  line L93 (22, -5.6642) -> (23, -5.6642) projected
  line L94 (23, -5.6642) -> (23, -1.9142) projected
  line L95 (23, -1.9142) -> (26, -1.9142) projected
  line L96 (26, -1.9142) -> (26, -8.4142) projected
  line L97 (26, -8.4142) -> (24.75, -8.4142) projected
  arc A11 (22, -11.1642) -> (24.75, -8.4142) centre (22, -8.4142) ccw projected
  line L98 (22, -11.1642) -> (22, -12.4142) projected
  line L99 (22, -12.4142) -> (15.5, -12.4142) projected
  line L100 (9.761, 0.8858) -> (9.4937, 1.5005) projected
  arc A12 (5.5063, 1.5005) -> (9.4937, 1.5005) centre (7.5, 6.0858) ccw projected
  line L101 (5.5063, 1.5005) -> (5.239, 0.8858) projected
  line L102 (5.239, 0.8858) -> (2.3, 0.8858) projected
  line L103 (2.3, 0.8858) -> (2.3, 3.8248) projected
  line L104 (2.3, 3.8248) -> (2.9147, 4.092) projected
  arc A13 (2.9147, 8.0795) -> (2.9147, 4.092) centre (7.5, 6.0858) ccw projected
  line L105 (2.9147, 8.0795) -> (2.3, 8.3468) projected
  line L106 (2.3, 8.3468) -> (2.3, 11.2858) projected
  line L107 (2.3, 11.2858) -> (5.239, 11.2858) projected
  line L108 (5.239, 11.2858) -> (5.5063, 10.6711) projected
  arc A14 (9.4937, 10.6711) -> (5.5063, 10.6711) centre (7.5, 6.0858) ccw projected
  line L109 (9.4937, 10.6711) -> (9.761, 11.2858) projected
  line L110 (9.761, 11.2858) -> (12.7, 11.2858) projected
  line L111 (12.7, 11.2858) -> (12.7, 8.3468) projected
  line L112 (12.7, 8.3468) -> (12.0853, 8.0795) projected
  arc A15 (12.0853, 4.092) -> (12.0853, 8.0795) centre (7.5, 6.0858) ccw projected
  line L113 (12.0853, 4.092) -> (12.7, 3.8248) projected
  line L114 (12.7, 3.8248) -> (12.7, 0.8858) projected
  line L115 (12.7, 0.8858) -> (9.761, 0.8858) projected
  point P0 (7.5, 6.0858)
extrude "Extrusion2" add sketch "Sketch2" against normal blind 425
properties part number "4040250cm" material "Aluminum 6061"
